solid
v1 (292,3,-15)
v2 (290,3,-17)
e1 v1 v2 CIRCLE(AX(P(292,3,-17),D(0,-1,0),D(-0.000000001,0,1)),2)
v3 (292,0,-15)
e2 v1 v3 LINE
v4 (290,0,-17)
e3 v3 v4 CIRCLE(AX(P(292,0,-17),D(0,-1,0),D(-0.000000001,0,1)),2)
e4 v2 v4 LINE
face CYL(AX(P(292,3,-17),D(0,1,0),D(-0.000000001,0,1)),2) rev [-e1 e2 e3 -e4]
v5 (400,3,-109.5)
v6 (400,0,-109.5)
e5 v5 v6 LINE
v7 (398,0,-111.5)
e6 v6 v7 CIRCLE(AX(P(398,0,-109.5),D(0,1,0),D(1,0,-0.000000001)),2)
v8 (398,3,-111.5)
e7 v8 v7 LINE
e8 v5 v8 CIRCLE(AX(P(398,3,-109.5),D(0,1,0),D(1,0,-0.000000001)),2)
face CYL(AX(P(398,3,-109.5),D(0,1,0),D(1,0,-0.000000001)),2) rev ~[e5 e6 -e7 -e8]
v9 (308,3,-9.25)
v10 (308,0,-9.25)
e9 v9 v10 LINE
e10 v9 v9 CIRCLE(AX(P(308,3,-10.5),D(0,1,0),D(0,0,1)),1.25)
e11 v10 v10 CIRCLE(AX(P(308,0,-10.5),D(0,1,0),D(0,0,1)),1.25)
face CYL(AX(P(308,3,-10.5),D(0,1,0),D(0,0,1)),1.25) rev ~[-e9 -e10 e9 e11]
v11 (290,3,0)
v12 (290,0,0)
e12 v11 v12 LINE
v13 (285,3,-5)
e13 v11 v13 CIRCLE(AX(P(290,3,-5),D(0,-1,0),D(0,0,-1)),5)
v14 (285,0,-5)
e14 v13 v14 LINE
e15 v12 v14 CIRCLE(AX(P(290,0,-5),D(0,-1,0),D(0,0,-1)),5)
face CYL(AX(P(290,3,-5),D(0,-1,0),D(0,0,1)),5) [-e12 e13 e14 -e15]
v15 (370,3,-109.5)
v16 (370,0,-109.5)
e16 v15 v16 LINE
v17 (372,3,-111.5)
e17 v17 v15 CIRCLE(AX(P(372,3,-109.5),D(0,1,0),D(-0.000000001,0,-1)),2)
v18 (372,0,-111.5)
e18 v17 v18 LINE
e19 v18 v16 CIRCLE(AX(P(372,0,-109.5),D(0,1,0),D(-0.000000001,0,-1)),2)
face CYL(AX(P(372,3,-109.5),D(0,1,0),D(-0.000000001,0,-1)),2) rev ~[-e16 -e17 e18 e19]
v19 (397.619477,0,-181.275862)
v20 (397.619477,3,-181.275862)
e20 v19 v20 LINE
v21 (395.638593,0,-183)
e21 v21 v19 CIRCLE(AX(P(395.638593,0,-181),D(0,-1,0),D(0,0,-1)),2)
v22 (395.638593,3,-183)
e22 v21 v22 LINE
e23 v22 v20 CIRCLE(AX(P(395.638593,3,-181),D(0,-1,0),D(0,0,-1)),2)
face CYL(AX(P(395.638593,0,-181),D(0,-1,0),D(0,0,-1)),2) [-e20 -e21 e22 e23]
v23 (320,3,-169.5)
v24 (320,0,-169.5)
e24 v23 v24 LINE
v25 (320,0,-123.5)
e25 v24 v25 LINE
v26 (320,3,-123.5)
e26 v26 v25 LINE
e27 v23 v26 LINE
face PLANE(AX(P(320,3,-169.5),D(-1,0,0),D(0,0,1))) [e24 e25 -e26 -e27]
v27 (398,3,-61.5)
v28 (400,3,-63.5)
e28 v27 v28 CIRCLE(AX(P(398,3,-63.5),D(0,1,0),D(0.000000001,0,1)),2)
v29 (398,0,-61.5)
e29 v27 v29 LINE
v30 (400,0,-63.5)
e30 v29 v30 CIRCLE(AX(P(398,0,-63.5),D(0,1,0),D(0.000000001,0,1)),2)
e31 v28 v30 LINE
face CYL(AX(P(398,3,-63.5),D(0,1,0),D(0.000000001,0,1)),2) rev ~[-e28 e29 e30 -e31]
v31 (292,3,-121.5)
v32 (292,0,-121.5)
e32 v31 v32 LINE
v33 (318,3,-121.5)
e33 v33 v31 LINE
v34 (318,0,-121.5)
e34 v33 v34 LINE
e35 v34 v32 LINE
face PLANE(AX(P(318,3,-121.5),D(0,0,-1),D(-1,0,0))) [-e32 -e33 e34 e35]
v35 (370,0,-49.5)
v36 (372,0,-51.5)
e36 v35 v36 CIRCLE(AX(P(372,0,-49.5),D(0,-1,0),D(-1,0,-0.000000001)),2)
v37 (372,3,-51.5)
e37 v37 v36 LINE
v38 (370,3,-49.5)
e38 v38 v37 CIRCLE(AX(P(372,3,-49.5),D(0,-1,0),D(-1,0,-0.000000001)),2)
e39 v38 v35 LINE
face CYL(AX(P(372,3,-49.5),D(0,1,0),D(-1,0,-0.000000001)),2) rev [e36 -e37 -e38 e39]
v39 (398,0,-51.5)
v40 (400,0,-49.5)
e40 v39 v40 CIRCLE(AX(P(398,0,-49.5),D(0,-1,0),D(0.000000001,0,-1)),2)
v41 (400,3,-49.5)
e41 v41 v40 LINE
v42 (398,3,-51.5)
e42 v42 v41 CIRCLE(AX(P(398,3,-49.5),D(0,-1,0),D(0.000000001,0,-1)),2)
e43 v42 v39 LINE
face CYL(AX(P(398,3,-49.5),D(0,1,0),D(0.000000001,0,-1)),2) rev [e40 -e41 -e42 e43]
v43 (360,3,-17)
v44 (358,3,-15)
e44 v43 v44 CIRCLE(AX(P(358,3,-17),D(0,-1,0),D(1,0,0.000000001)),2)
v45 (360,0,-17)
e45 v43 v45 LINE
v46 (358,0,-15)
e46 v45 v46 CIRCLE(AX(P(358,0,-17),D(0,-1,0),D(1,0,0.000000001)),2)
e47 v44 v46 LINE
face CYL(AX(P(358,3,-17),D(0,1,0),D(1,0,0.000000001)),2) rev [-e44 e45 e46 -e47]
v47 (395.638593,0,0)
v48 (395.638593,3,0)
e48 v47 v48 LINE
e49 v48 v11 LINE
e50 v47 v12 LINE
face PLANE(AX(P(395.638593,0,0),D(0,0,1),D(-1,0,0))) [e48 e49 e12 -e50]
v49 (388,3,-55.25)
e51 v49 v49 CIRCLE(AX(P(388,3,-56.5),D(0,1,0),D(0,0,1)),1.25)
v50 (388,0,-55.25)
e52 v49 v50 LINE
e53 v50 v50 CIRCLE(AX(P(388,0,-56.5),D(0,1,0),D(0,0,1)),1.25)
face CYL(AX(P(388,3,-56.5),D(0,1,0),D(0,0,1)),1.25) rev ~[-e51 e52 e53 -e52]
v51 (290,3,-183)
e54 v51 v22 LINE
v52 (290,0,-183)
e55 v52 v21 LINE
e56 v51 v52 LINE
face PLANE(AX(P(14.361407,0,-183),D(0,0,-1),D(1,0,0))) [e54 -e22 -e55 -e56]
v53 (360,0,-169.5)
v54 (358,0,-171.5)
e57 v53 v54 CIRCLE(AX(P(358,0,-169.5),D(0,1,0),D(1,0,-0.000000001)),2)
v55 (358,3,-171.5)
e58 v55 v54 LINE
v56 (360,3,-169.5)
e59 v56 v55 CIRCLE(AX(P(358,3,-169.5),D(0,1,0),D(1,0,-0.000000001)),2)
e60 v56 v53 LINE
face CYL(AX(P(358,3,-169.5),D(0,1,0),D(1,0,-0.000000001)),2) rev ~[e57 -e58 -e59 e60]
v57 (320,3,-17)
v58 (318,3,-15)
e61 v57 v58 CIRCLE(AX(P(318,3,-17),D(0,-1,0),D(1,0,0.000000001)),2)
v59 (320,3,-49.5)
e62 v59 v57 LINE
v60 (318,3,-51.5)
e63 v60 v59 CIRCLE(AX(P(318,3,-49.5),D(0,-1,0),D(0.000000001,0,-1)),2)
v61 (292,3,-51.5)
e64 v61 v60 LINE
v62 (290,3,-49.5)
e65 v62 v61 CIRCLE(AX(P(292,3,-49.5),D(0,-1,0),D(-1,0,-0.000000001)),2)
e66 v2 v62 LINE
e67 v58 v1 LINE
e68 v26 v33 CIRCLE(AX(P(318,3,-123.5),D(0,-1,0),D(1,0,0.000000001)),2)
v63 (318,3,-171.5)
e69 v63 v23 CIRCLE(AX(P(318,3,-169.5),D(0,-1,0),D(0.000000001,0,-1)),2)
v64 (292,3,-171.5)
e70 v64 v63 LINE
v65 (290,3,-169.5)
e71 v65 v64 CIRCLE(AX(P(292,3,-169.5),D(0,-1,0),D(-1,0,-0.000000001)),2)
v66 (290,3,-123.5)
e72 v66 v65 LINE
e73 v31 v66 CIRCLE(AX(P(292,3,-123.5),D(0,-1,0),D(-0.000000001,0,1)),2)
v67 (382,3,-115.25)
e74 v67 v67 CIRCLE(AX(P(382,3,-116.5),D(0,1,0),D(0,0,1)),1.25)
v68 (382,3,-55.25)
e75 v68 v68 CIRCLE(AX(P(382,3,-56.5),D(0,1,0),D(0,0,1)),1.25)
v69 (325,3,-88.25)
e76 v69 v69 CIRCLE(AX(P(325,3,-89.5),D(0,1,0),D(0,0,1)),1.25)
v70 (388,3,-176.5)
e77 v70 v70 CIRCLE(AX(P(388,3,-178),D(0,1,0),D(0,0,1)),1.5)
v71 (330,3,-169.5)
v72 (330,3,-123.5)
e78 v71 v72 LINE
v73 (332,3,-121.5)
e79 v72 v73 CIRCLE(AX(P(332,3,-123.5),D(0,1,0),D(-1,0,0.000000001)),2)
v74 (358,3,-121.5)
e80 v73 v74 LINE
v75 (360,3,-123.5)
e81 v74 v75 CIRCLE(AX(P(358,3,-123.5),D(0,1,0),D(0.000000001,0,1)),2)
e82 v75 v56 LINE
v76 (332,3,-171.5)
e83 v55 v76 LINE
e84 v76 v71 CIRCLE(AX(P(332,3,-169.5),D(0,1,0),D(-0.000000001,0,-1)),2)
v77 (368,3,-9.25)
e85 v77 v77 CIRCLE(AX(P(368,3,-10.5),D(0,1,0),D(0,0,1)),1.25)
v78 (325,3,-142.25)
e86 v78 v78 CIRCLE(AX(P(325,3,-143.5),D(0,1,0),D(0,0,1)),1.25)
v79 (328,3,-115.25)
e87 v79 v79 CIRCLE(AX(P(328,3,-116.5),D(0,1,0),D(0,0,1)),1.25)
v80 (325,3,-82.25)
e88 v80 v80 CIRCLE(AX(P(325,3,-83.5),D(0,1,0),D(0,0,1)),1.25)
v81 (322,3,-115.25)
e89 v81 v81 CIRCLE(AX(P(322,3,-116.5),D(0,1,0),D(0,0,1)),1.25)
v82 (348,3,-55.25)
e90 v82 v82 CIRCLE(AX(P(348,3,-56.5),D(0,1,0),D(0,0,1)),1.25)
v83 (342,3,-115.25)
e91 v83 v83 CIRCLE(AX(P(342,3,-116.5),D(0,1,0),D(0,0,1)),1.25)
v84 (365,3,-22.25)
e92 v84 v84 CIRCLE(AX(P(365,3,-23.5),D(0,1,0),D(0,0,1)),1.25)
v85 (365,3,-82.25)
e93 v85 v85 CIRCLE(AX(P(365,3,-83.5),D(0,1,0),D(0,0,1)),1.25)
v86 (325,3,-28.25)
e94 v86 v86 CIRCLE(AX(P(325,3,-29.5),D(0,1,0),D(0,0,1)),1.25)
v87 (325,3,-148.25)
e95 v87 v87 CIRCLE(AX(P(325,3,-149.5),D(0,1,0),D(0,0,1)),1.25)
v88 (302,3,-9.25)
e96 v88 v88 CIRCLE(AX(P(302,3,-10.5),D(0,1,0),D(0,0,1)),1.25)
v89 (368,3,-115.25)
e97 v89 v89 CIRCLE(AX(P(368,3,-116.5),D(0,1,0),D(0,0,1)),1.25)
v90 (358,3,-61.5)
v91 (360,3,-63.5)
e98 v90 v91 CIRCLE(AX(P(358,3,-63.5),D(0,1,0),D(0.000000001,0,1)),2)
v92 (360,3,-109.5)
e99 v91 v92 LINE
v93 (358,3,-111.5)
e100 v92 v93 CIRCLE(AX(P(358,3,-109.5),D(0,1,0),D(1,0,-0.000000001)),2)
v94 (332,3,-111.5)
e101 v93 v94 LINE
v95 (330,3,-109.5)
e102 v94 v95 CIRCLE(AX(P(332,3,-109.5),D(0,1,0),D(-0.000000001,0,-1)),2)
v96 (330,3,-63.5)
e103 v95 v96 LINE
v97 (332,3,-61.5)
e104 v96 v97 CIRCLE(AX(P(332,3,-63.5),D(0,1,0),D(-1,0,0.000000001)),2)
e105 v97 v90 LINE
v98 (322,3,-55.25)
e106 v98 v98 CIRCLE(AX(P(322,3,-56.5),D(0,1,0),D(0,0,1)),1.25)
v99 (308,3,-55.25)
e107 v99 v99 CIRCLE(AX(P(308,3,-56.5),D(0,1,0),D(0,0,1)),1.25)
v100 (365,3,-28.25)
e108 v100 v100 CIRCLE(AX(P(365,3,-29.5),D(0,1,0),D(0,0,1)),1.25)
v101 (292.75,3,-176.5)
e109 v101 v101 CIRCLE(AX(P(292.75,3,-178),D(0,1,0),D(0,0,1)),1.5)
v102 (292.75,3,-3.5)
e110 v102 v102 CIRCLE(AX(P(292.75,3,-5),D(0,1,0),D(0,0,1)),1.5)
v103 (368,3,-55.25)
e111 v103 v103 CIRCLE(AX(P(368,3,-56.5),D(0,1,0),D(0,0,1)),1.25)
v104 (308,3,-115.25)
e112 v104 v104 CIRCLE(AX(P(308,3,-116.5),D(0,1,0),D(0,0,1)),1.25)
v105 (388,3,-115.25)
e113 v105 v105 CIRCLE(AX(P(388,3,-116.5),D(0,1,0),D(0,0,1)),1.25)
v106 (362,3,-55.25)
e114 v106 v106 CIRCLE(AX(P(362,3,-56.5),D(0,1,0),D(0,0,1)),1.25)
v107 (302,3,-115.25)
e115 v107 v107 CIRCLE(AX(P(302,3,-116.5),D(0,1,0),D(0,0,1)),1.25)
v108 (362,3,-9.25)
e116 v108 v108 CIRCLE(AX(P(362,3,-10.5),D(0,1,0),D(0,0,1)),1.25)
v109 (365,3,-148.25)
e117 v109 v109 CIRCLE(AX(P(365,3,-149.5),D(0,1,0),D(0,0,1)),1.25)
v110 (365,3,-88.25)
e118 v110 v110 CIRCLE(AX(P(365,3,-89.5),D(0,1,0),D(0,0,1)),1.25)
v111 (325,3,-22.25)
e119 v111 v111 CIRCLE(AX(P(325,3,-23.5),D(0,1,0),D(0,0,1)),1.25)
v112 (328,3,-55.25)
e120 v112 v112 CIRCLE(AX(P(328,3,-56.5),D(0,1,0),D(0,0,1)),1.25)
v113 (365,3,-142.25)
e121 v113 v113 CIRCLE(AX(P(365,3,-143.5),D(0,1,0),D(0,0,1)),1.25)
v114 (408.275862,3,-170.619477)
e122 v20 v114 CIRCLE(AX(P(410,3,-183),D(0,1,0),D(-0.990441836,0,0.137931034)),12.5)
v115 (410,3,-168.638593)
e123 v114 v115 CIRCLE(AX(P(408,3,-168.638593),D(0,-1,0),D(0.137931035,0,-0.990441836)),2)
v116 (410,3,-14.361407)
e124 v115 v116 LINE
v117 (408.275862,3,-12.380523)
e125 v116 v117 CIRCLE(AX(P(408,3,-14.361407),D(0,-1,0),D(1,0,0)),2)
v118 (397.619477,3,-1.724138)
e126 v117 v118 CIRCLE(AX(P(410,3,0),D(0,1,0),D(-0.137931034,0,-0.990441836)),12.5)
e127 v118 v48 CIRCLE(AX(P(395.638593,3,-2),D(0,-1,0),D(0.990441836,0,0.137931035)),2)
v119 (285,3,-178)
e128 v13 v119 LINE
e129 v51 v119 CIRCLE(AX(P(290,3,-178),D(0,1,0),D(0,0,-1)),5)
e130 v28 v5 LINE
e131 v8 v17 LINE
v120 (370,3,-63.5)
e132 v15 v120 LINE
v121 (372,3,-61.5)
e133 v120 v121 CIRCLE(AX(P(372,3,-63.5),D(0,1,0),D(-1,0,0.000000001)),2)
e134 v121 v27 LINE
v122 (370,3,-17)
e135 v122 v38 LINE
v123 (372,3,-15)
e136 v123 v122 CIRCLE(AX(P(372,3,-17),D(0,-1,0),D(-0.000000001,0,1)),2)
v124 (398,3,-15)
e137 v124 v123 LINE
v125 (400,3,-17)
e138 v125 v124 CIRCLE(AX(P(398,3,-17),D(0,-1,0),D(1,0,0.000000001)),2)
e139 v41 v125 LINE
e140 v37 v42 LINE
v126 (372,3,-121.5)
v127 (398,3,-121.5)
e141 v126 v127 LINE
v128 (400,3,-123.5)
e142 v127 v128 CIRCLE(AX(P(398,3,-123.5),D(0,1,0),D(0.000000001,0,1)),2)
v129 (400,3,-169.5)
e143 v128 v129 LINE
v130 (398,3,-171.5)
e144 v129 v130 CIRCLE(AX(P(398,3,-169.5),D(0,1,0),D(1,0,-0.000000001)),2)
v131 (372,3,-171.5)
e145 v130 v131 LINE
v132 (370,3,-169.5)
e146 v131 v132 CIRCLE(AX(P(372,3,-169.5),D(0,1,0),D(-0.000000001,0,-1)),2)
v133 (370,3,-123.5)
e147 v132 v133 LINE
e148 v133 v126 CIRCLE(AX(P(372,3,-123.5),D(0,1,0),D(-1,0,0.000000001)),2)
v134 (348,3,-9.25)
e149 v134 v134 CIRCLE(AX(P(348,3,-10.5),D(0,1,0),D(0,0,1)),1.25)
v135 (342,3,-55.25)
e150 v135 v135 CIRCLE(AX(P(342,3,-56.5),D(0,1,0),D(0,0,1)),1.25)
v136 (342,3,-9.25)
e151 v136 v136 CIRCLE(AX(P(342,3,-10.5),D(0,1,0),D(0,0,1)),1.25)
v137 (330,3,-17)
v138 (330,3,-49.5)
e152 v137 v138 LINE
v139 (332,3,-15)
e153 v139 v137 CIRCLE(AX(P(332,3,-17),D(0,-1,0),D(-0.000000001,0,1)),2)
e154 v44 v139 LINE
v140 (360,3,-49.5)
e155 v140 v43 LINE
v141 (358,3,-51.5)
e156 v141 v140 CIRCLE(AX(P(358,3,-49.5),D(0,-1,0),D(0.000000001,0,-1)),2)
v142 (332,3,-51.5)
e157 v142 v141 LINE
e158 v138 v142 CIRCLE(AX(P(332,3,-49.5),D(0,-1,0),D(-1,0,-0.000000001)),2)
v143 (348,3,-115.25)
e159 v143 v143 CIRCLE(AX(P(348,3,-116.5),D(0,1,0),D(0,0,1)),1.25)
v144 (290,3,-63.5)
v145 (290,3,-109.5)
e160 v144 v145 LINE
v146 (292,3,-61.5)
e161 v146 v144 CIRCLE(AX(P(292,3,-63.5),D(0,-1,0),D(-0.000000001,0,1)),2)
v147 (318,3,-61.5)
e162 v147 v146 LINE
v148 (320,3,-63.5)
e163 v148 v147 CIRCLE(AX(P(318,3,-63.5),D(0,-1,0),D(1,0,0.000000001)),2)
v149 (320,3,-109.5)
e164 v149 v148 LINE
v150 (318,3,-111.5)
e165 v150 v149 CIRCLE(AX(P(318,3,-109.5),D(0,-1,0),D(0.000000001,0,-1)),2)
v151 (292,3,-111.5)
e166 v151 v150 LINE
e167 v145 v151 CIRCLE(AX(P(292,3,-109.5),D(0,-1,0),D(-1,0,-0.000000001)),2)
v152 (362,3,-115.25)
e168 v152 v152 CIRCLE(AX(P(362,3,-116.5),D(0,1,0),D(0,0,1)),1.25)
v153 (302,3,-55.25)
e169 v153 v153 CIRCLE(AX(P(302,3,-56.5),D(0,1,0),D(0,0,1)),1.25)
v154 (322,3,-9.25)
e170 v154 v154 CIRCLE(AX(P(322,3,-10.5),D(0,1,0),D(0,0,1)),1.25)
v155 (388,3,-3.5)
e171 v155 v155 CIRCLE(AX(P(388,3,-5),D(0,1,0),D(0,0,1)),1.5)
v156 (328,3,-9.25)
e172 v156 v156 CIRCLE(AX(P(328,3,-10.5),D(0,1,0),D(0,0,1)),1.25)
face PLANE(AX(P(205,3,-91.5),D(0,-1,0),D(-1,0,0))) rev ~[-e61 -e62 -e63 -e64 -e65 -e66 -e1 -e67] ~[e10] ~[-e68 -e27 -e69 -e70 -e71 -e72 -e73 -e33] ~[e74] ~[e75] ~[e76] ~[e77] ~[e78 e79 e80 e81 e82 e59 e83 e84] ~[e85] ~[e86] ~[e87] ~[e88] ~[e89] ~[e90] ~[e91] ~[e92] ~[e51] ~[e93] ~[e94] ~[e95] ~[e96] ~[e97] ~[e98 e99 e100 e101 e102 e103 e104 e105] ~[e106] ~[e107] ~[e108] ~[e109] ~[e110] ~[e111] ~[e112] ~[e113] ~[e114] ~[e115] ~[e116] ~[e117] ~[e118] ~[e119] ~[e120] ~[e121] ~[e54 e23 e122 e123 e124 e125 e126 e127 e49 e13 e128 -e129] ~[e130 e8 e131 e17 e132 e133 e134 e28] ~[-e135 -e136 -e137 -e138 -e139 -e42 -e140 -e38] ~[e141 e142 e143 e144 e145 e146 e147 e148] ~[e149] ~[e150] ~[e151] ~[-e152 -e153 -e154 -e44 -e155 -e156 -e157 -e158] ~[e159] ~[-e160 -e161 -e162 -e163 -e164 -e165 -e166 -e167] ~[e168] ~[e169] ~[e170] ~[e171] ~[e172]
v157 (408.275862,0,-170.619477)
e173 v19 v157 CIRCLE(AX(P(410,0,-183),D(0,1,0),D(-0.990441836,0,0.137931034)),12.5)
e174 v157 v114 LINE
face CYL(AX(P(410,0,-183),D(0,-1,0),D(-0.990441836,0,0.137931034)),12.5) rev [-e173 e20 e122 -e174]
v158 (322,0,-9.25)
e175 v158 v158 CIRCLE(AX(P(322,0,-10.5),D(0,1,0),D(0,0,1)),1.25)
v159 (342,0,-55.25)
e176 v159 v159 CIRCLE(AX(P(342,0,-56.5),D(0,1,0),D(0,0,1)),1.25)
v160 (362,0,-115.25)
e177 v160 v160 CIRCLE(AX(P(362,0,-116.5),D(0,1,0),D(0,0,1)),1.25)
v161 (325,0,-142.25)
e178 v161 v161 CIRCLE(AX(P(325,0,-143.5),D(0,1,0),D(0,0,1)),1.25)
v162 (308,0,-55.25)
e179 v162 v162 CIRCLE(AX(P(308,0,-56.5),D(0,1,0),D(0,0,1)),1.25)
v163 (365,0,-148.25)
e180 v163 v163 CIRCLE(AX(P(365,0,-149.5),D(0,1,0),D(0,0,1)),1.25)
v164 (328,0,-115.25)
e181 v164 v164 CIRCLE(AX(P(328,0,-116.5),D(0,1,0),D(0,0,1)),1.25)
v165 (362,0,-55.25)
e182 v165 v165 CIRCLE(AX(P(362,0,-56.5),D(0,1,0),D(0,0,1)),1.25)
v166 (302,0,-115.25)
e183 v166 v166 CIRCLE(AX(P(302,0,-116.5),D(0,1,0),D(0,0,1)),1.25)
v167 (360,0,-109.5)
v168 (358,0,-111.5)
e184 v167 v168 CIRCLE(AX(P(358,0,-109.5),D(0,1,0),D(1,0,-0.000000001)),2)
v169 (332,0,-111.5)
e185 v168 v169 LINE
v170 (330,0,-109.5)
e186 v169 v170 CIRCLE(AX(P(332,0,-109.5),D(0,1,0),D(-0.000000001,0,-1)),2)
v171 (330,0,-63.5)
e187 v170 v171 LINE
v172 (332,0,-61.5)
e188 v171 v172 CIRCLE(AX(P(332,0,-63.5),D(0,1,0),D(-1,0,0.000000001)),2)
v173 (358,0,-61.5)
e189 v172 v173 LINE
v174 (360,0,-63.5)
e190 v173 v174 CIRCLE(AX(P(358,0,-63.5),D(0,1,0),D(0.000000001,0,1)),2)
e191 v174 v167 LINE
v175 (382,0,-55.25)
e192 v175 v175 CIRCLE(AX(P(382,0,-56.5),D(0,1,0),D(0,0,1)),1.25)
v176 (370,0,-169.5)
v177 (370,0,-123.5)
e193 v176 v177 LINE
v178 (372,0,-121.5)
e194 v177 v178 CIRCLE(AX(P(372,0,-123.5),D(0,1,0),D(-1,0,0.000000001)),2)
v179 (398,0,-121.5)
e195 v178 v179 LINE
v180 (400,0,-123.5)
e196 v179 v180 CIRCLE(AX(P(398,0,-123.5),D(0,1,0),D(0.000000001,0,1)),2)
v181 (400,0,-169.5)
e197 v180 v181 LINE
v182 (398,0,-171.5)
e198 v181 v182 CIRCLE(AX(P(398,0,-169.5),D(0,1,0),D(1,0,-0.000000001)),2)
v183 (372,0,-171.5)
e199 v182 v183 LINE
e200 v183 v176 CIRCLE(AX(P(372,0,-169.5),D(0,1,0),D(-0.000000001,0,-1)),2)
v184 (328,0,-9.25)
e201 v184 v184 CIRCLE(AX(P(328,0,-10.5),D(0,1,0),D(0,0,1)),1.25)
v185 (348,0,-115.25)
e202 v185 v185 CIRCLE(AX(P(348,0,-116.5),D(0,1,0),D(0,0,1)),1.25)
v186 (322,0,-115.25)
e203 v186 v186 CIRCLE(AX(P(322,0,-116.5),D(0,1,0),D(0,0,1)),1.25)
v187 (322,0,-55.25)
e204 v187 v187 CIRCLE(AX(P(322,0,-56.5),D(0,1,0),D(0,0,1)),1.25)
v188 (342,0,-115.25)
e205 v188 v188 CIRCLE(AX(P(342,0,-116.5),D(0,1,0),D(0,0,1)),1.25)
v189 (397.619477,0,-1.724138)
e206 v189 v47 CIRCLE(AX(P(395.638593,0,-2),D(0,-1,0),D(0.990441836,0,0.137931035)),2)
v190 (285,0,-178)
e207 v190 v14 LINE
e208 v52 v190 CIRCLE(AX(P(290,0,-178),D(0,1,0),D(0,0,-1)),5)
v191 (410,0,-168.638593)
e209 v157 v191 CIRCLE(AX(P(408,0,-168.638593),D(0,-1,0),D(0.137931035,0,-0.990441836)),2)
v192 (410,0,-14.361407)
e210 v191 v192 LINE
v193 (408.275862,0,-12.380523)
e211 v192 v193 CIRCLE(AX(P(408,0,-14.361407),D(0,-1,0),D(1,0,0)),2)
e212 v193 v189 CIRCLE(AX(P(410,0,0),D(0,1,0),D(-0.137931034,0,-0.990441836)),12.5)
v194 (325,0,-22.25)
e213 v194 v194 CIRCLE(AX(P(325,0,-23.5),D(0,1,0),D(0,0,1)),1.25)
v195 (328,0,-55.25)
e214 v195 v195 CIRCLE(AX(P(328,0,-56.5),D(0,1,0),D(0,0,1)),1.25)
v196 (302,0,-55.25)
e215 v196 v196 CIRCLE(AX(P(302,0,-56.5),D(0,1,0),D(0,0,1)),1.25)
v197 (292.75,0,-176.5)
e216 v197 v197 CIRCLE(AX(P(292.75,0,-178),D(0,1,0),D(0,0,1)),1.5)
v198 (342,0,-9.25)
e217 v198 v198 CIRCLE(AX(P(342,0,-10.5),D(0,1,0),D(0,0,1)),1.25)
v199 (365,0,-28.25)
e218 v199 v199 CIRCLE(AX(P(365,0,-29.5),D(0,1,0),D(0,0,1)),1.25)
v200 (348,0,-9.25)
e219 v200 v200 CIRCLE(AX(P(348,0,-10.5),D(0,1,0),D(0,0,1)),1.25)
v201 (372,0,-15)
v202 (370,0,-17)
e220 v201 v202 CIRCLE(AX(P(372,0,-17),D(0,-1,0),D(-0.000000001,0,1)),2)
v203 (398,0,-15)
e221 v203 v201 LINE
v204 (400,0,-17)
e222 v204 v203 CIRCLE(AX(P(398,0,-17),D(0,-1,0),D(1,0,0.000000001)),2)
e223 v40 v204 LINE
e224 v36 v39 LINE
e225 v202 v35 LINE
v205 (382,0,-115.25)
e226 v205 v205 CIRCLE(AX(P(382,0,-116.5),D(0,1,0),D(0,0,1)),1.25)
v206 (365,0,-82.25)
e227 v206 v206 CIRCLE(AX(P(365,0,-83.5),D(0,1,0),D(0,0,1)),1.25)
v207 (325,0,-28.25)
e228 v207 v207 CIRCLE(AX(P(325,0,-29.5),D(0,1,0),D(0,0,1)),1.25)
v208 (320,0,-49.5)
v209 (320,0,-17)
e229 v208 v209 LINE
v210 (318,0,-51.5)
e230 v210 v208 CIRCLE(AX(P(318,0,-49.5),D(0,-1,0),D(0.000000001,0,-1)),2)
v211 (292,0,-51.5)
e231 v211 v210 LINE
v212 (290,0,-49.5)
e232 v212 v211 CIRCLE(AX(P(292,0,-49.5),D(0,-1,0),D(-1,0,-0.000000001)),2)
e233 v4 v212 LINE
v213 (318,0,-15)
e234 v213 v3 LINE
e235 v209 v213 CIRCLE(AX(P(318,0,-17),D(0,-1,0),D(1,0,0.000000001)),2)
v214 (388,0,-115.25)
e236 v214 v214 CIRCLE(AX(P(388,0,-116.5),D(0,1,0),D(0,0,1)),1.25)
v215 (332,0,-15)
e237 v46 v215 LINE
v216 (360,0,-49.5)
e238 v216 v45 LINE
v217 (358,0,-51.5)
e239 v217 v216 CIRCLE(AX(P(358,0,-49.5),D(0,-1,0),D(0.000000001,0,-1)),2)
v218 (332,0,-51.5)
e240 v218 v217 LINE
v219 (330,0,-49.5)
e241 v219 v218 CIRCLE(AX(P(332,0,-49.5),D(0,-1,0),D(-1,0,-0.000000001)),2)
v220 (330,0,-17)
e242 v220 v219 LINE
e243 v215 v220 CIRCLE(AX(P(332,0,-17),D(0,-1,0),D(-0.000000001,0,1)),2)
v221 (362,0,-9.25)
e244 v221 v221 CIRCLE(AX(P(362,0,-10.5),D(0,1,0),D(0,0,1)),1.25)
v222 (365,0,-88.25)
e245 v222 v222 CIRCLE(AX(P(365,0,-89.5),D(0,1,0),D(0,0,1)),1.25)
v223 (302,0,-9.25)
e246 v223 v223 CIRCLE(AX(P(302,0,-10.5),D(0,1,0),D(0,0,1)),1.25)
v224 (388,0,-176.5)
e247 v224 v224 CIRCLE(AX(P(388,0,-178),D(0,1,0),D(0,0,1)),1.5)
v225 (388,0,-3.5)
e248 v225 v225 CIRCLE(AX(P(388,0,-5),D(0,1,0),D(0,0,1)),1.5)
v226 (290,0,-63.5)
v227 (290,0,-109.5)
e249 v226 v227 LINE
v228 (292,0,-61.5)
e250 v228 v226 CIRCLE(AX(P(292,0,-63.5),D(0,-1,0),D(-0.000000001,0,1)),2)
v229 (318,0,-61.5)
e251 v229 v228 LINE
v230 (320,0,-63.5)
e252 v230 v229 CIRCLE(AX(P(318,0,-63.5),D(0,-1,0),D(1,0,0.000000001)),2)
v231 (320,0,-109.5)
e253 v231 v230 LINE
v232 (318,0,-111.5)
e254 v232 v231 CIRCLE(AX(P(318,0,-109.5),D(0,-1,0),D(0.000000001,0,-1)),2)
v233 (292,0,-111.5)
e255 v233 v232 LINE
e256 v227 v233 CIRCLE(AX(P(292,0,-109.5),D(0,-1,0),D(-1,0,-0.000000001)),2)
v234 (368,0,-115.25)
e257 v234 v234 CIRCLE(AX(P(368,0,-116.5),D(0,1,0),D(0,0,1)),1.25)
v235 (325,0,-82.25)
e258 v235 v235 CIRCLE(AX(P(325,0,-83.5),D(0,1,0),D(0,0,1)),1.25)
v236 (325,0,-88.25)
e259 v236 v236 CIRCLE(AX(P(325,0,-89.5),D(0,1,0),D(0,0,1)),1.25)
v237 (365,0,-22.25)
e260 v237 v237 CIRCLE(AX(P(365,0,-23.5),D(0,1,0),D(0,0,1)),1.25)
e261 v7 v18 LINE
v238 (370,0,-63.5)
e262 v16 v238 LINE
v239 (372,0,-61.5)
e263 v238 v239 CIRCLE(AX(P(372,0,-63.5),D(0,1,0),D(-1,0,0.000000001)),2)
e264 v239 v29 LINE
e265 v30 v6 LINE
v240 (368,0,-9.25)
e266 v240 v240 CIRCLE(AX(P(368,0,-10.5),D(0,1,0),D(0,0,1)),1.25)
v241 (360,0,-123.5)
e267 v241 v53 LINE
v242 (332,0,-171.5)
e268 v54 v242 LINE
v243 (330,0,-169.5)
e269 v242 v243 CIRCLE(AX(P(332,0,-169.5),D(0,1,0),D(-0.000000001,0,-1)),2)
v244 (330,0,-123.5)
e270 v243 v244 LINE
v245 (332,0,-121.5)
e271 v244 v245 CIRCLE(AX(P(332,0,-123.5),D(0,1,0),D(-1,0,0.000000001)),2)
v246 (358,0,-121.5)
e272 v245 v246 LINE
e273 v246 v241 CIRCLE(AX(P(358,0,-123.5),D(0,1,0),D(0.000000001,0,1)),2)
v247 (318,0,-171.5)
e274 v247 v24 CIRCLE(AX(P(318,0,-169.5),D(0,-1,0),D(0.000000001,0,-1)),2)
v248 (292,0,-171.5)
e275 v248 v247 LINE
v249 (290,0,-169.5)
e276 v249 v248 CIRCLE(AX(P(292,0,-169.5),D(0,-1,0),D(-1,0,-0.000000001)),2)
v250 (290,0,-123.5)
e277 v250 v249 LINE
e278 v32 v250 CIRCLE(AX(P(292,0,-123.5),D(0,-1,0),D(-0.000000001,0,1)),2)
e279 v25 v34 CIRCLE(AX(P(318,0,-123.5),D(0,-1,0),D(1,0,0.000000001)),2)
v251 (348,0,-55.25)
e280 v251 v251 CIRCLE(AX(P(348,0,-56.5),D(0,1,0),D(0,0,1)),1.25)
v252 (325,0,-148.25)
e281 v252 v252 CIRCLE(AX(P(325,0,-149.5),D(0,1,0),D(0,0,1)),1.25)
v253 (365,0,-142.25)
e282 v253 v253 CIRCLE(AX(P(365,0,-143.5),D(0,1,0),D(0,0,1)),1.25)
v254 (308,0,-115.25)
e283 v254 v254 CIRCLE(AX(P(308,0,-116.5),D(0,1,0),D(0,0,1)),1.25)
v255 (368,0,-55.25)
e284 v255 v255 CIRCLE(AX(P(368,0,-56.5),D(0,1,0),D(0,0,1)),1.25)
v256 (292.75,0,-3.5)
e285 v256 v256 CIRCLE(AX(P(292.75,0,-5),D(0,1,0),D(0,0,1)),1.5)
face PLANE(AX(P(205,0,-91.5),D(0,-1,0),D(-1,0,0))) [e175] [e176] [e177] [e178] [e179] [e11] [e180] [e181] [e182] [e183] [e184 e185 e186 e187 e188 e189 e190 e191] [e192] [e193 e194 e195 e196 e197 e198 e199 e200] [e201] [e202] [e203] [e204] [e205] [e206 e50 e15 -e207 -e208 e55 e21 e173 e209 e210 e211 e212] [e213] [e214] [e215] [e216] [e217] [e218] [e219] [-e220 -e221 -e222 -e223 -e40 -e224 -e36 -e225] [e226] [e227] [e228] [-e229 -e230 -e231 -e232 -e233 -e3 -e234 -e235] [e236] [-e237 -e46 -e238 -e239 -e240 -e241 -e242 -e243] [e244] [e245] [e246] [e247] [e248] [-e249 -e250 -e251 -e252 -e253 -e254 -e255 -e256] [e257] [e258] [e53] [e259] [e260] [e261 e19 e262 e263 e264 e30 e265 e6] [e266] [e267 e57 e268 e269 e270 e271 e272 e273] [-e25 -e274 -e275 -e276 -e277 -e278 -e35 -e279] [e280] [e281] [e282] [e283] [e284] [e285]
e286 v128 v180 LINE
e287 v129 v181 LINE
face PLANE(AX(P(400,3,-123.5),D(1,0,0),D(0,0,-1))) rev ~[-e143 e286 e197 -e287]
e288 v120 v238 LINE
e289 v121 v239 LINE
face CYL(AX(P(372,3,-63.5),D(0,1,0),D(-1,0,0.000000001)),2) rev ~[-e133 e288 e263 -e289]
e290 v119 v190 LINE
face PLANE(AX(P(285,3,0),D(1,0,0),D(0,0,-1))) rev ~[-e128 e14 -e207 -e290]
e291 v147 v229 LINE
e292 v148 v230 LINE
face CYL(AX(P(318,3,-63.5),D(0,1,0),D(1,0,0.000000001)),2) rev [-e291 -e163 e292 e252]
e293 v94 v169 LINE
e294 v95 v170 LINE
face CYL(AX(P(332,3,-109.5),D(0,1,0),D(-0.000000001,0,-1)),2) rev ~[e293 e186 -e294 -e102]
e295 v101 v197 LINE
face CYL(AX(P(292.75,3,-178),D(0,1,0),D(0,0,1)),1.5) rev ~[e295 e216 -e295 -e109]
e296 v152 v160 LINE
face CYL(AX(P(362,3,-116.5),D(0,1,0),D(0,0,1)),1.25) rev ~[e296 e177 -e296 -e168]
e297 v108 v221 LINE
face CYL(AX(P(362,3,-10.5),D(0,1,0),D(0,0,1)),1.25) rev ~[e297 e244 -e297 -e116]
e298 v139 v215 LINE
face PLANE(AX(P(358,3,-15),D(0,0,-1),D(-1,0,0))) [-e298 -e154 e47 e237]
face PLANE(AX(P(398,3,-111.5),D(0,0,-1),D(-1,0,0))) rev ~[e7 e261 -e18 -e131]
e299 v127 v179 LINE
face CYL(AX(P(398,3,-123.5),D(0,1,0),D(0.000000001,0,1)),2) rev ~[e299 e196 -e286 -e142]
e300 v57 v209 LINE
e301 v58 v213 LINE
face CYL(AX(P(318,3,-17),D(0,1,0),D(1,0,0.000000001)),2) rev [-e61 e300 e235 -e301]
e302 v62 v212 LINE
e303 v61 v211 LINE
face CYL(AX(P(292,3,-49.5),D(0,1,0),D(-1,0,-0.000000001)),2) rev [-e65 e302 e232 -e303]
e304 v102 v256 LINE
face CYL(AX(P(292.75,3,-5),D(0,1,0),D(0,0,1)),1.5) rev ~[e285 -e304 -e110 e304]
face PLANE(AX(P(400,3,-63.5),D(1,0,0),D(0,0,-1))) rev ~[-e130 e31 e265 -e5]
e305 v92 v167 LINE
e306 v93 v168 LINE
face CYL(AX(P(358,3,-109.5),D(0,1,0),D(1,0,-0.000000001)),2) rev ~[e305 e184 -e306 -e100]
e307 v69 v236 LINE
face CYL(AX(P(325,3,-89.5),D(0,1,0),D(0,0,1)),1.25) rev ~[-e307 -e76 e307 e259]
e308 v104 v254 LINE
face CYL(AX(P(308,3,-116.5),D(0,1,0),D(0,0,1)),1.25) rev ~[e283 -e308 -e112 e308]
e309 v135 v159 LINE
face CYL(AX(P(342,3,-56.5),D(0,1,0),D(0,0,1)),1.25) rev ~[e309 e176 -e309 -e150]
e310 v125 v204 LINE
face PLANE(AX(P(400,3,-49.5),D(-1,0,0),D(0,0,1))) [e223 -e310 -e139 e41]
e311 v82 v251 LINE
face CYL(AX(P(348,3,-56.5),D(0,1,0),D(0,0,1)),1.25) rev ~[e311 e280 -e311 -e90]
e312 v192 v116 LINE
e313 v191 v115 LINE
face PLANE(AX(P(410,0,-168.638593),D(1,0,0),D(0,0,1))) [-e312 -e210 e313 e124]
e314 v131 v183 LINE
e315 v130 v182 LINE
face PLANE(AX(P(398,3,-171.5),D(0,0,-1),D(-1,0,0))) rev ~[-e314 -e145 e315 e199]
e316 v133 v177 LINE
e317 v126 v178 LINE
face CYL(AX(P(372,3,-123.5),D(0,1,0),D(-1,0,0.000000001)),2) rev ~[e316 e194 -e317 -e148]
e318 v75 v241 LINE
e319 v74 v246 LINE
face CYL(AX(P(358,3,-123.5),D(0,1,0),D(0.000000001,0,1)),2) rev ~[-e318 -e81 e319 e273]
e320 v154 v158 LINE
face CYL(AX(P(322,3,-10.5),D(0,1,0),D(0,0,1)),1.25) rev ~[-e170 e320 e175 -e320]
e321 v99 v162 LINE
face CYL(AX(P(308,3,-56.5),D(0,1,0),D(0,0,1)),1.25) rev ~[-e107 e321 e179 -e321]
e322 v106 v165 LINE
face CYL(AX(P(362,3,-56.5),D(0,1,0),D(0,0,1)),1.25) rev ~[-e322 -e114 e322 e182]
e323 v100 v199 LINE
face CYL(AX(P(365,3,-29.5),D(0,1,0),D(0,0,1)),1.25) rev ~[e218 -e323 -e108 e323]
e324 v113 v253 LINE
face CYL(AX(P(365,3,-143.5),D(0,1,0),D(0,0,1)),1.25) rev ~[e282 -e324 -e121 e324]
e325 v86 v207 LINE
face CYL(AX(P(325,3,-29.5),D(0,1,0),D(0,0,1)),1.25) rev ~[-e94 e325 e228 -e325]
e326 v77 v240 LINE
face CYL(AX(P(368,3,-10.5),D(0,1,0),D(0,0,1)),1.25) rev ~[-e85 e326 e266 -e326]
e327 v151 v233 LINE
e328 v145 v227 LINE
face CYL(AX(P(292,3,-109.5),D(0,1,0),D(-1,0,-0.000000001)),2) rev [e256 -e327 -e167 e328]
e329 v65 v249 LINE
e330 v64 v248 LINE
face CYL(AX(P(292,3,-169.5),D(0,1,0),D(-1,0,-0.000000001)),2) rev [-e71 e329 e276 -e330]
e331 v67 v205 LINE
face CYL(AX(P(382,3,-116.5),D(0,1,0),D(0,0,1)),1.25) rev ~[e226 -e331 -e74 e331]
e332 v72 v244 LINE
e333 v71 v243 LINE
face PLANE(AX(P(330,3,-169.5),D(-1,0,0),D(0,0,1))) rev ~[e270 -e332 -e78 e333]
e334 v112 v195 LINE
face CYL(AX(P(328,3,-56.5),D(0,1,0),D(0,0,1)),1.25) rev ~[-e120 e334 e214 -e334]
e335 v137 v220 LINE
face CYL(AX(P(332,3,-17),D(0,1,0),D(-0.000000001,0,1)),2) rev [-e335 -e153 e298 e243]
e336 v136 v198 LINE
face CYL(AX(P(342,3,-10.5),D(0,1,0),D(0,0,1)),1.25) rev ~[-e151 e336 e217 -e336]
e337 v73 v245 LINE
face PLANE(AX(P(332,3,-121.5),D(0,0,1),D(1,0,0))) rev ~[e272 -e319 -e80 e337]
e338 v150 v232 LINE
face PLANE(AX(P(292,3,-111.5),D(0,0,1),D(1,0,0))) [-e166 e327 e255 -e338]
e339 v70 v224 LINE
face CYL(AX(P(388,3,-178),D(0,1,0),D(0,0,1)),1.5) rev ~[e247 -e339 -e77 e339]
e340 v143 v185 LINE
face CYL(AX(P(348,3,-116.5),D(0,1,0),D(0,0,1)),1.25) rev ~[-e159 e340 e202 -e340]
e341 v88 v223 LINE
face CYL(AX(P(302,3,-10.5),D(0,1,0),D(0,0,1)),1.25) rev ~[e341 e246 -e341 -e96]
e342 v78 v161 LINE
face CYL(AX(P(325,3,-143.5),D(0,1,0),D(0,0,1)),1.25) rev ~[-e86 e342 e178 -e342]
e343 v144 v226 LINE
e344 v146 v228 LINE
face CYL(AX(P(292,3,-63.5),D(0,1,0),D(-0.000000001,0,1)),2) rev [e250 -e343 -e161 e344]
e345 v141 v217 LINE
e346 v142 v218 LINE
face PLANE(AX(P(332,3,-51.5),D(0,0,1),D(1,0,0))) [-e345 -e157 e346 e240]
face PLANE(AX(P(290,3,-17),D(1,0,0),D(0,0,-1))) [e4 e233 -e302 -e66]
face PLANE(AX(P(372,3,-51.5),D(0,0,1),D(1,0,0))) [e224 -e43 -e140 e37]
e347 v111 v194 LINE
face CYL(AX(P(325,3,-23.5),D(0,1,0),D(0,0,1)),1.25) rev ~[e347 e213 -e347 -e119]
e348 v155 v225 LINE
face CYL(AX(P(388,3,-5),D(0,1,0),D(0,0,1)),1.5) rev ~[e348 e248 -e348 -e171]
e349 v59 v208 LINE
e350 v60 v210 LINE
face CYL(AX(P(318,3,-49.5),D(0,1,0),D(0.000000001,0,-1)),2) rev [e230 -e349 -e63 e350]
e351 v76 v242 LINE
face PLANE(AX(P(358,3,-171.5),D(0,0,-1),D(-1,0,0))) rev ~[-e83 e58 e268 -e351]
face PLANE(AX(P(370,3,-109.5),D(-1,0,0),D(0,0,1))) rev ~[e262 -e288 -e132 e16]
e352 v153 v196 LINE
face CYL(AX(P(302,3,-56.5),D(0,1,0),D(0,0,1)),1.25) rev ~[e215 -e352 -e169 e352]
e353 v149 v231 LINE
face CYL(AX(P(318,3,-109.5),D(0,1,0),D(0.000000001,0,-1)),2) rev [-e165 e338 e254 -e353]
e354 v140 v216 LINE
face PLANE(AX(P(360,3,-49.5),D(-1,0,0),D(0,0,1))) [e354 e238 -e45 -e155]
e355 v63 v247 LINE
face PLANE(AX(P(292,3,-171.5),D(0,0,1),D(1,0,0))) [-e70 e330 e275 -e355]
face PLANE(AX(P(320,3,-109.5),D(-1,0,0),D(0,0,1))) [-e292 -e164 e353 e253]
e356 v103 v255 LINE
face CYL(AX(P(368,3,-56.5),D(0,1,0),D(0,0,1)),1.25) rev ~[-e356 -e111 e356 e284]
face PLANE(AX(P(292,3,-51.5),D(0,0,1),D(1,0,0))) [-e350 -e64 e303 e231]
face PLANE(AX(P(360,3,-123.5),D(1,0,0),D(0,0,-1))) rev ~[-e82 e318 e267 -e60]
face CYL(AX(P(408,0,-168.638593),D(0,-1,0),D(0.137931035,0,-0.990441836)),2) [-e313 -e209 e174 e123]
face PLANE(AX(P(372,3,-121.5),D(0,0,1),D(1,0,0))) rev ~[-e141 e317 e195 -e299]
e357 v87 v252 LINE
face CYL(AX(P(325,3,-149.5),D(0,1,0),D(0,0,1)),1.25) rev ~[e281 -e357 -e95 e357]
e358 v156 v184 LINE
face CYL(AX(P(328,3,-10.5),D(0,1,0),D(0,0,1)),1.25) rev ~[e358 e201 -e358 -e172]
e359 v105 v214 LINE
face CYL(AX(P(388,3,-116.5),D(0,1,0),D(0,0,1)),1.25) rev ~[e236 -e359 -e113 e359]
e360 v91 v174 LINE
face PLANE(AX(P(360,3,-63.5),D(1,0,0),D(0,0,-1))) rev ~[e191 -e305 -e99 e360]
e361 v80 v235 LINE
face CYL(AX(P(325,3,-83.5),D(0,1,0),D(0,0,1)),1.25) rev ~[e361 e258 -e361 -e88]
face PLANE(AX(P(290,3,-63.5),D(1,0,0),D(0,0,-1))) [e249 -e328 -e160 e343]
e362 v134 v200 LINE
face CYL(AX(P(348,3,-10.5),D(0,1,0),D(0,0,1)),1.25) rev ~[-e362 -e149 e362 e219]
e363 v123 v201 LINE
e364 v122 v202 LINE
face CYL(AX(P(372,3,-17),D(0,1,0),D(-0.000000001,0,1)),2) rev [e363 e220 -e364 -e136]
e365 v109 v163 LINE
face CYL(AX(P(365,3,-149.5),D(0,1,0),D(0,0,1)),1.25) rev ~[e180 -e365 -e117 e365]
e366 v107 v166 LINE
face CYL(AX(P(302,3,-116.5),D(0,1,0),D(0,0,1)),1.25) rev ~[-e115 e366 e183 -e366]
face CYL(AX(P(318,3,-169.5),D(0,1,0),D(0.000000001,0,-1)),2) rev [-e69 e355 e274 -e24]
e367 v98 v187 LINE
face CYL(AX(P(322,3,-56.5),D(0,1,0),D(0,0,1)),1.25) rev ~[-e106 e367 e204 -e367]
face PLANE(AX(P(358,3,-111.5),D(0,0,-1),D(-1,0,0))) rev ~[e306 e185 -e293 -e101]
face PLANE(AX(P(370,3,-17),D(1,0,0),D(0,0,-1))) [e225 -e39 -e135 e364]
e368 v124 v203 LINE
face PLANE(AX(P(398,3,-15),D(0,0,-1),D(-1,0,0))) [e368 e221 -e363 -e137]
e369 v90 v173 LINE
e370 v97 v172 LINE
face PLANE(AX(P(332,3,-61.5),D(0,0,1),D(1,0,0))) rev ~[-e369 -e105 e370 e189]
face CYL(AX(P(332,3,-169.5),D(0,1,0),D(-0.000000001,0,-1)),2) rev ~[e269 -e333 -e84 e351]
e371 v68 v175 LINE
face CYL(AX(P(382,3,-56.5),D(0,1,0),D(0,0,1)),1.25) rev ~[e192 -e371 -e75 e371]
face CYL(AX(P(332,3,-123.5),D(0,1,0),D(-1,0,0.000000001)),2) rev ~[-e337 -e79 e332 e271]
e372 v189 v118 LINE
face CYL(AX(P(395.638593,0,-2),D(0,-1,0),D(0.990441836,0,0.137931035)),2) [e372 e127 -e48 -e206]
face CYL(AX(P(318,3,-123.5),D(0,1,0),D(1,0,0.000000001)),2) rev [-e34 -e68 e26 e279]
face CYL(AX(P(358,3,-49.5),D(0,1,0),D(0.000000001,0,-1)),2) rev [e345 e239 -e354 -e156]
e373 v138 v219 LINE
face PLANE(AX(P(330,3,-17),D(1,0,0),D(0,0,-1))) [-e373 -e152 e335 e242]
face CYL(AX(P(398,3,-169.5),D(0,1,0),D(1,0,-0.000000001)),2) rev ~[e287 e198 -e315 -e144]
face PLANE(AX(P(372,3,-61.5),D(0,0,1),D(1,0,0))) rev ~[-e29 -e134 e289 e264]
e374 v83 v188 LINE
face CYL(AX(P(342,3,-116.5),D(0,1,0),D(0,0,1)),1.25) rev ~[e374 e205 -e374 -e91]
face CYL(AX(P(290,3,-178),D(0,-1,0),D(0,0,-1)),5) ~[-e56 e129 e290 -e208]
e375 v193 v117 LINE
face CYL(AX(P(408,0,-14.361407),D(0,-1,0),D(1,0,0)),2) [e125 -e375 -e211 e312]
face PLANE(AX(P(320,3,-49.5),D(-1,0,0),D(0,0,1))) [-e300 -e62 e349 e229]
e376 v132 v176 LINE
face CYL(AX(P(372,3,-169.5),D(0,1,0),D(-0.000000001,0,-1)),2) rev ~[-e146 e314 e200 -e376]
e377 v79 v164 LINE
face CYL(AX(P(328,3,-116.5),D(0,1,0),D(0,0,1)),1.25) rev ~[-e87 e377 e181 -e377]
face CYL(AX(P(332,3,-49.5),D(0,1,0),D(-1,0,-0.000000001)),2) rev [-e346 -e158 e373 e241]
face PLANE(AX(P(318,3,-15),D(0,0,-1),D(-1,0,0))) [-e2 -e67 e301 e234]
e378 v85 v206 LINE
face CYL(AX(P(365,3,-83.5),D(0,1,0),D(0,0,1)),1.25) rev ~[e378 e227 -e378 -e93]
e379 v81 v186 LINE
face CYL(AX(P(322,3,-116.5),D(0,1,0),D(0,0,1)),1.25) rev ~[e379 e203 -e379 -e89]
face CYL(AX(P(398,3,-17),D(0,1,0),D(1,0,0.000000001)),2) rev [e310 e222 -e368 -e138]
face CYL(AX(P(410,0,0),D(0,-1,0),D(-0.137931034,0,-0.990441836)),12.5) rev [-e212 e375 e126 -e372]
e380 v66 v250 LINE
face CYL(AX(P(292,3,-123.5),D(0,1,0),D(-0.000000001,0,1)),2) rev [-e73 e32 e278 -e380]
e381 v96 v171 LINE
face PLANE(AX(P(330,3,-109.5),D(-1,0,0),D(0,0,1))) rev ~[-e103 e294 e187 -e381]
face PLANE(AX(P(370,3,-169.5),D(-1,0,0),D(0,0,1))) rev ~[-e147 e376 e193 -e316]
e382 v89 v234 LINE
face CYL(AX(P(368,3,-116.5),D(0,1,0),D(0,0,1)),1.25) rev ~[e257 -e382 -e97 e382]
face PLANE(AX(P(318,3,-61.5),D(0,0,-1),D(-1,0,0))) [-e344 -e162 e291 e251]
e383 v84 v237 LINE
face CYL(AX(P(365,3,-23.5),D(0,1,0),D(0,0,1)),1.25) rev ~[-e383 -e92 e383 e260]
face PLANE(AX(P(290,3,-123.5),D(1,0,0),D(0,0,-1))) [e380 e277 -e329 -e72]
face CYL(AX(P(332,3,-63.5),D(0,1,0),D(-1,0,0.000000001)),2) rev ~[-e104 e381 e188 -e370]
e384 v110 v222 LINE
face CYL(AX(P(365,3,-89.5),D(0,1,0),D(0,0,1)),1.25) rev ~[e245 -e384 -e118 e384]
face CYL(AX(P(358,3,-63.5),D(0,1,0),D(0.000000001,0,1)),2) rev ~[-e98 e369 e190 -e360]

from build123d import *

# Parameters (mm, degrees)
BOSS_EXTRUDE1_DEPTH = 3
CUT_EXTRUDE6_REACH  = 450.997
SKETCH10_R          = 1.5
SKETCH11_W          = 285
SKETCH11_H          = 183
CUT_EXTRUDE7_DEPTH  = 10
FILLET1_R           = 5
SKETCH12_R          = 1.25
CUT_EXTRUDE8_DEPTH  = 3


with BuildPart() as part:
    # Sketch1 → Boss-Extrude1 (new body)
    with BuildSketch(Plane(origin=(0, 0, 0), x_dir=(1, 0, 0), z_dir=(0, 1, 0))):
        with BuildLine():
            Line((0, 14.361406616), (0, 168.638593384))
            ThreePointArc((0, 168.638593384), (0.491403941, 169.951657712), (1.724137931, 170.619477055))
            ThreePointArc((1.724137931, 170.619477055), (8.838834765, 174.161165235), (12.380522945, 181.275862069))
            ThreePointArc((12.380522945, 181.275862069), (13.048342288, 182.508596059), (14.361406616, 183))
            Line((14.361406616, 183), (395.638593384, 183))
            ThreePointArc((395.638593384, 183), (396.951657712, 182.508596059), (397.619477055, 181.275862069))
            ThreePointArc((397.619477055, 181.275862069), (401.161165235, 174.161165235), (408.275862069, 170.619477055))
            ThreePointArc((408.275862069, 170.619477055), (409.508596059, 169.951657712), (410, 168.638593384))
            Line((410, 168.638593384), (410, 14.361406616))
            ThreePointArc((410, 14.361406616), (409.508596059, 13.048342288), (408.275862069, 12.380522945))
            ThreePointArc((408.275862069, 12.380522945), (401.161165235, 8.838834765), (397.619477055, 1.724137931))
            ThreePointArc((397.619477055, 1.724137931), (396.951657712, 0.491403941), (395.638593384, 0))
            Line((395.638593384, 0), (14.361406616, 0))
            ThreePointArc((14.361406616, 0), (13.048342288, 0.491403941), (12.380522945, 1.724137931))
            ThreePointArc((12.380522945, 1.724137931), (8.838834765, 8.838834765), (1.724137931, 12.380522945))
            ThreePointArc((1.724137931, 12.380522945), (0.491403941, 13.048342288), (0, 14.361406616))
        make_face()
    extrude(amount=BOSS_EXTRUDE1_DEPTH)

    # Sketch10 → Cut-Extrude6 (cut, up to next)
    with BuildSketch(Plane(origin=(0, 3, 0), x_dir=(1, 0, 0), z_dir=(0, 1, 0)), mode=Mode.PRIVATE) as cut_extrude6_sk1:
        with Locations(Location((17.5, 178, 0), (0, 0, 270))):
            Circle(SKETCH10_R)
    cut_extrude6_tool1 = extrude(cut_extrude6_sk1.sketch, amount=-CUT_EXTRUDE6_REACH, mode=Mode.PRIVATE) & part.part
    # Sketch10 → Cut-Extrude6 (cut, up to next)
    with BuildSketch(Plane(origin=(0, 3, 0), x_dir=(1, 0, 0), z_dir=(0, 1, 0)), mode=Mode.PRIVATE) as cut_extrude6_sk2:
        with Locations(Location((388, 178, 0), (0, 0, 270))):
            Circle(SKETCH10_R)
    cut_extrude6_tool2 = extrude(cut_extrude6_sk2.sketch, amount=-CUT_EXTRUDE6_REACH, mode=Mode.PRIVATE) & part.part
    # Sketch10 → Cut-Extrude6 (cut, up to next)
    with BuildSketch(Plane(origin=(0, 3, 0), x_dir=(1, 0, 0), z_dir=(0, 1, 0)), mode=Mode.PRIVATE) as cut_extrude6_sk3:
        with Locations(Location((388, 5, 0), (0, 0, 270))):
            Circle(SKETCH10_R)
    cut_extrude6_tool3 = extrude(cut_extrude6_sk3.sketch, amount=-CUT_EXTRUDE6_REACH, mode=Mode.PRIVATE) & part.part
    # Sketch10 → Cut-Extrude6 (cut, up to next)
    with BuildSketch(Plane(origin=(0, 3, 0), x_dir=(1, 0, 0), z_dir=(0, 1, 0)), mode=Mode.PRIVATE) as cut_extrude6_sk4:
        with Locations(Location((17.5, 5, 0), (0, 0, 270))):
            Circle(SKETCH10_R)
    cut_extrude6_tool4 = extrude(cut_extrude6_sk4.sketch, amount=-CUT_EXTRUDE6_REACH, mode=Mode.PRIVATE) & part.part
    # Sketch10 → Cut-Extrude6 (cut, up to next)
    with BuildSketch(Plane(origin=(0, 3, 0), x_dir=(1, 0, 0), z_dir=(0, 1, 0)), mode=Mode.PRIVATE) as cut_extrude6_sk5:
        with Locations(Location((202.75, 178, 0), (0, 0, 270))):
            Circle(SKETCH10_R)
    cut_extrude6_tool5 = extrude(cut_extrude6_sk5.sketch, amount=-CUT_EXTRUDE6_REACH, mode=Mode.PRIVATE) & part.part
    # Sketch10 → Cut-Extrude6 (cut, up to next)
    with BuildSketch(Plane(origin=(0, 3, 0), x_dir=(1, 0, 0), z_dir=(0, 1, 0)), mode=Mode.PRIVATE) as cut_extrude6_sk6:
        with Locations(Location((202.75, 5, 0), (0, 0, 270))):
            Circle(SKETCH10_R)
    cut_extrude6_tool6 = extrude(cut_extrude6_sk6.sketch, amount=-CUT_EXTRUDE6_REACH, mode=Mode.PRIVATE) & part.part
    # Sketch10 → Cut-Extrude6 (cut, up to next)
    with BuildSketch(Plane(origin=(0, 3, 0), x_dir=(1, 0, 0), z_dir=(0, 1, 0)), mode=Mode.PRIVATE) as cut_extrude6_sk7:
        with Locations(Location((292.75, 178, 0), (0, 0, 270))):
            Circle(SKETCH10_R)
    cut_extrude6_tool7 = extrude(cut_extrude6_sk7.sketch, amount=-CUT_EXTRUDE6_REACH, mode=Mode.PRIVATE) & part.part
    # Sketch10 → Cut-Extrude6 (cut, up to next)
    with BuildSketch(Plane(origin=(0, 3, 0), x_dir=(1, 0, 0), z_dir=(0, 1, 0)), mode=Mode.PRIVATE) as cut_extrude6_sk8:
        with Locations(Location((292.75, 5, 0), (0, 0, 270))):
            Circle(SKETCH10_R)
    cut_extrude6_tool8 = extrude(cut_extrude6_sk8.sketch, amount=-CUT_EXTRUDE6_REACH, mode=Mode.PRIVATE) & part.part
    add(cut_extrude6_tool1.solids().sort_by_distance((17.5, 3, -178))[0], mode=Mode.SUBTRACT)
    add(cut_extrude6_tool2.solids().sort_by_distance((388, 3, -178))[0], mode=Mode.SUBTRACT)
    add(cut_extrude6_tool3.solids().sort_by_distance((388, 3, -5))[0], mode=Mode.SUBTRACT)
    add(cut_extrude6_tool4.solids().sort_by_distance((17.5, 3, -5))[0], mode=Mode.SUBTRACT)
    add(cut_extrude6_tool5.solids().sort_by_distance((202.75, 3, -178))[0], mode=Mode.SUBTRACT)
    add(cut_extrude6_tool6.solids().sort_by_distance((202.75, 3, -5))[0], mode=Mode.SUBTRACT)
    add(cut_extrude6_tool7.solids().sort_by_distance((292.75, 3, -178))[0], mode=Mode.SUBTRACT)
    add(cut_extrude6_tool8.solids().sort_by_distance((292.75, 3, -5))[0], mode=Mode.SUBTRACT)

    # Sketch11 → Cut-Extrude7 (cut)
    with BuildSketch(Plane(origin=(0, 3, 0), x_dir=(1, 0, 0), z_dir=(0, 1, 0))):
        with Locations((142.5, 91.5)):
            Rectangle(SKETCH11_W, SKETCH11_H)
    extrude(amount=-CUT_EXTRUDE7_DEPTH, mode=Mode.SUBTRACT)

    # Fillet1
    fillet1_edges = [part.edges().sort_by_distance(p)[0] for p in [
        (285, 1.5, -183),
        (285, 1.5, 0),
    ]]
    fillet(fillet1_edges, radius=FILLET1_R)

    # Sketch12 → Cut-Extrude8 (cut)
    with BuildSketch(Plane(origin=(0, 3, 0), x_dir=(1, 0, 0), z_dir=(0, 1, 0))):
        with Locations(Location((325, 149.5, 0), (0, 0, 270))):
            Circle(SKETCH12_R)
        with Locations(Location((325, 143.5, 0), (0, 0, 270))):
            Circle(SKETCH12_R)
        with Locations(Location((365, 149.5, 0), (0, 0, 270))):
            Circle(SKETCH12_R)
        with Locations(Location((365, 143.5, 0), (0, 0, 270))):
            Circle(SKETCH12_R)
        with Locations(Location((325, 89.5, 0), (0, 0, 270))):
            Circle(SKETCH12_R)
        with Locations(Location((325, 83.5, 0), (0, 0, 270))):
            Circle(SKETCH12_R)
        with Locations(Location((365, 89.5, 0), (0, 0, 270))):
            Circle(SKETCH12_R)
        with Locations(Location((365, 83.5, 0), (0, 0, 270))):
            Circle(SKETCH12_R)
        with Locations(Location((325, 29.5, 0), (0, 0, 270))):
            Circle(SKETCH12_R)
        with Locations(Location((325, 23.5, 0), (0, 0, 270))):
            Circle(SKETCH12_R)
        with Locations(Location((365, 29.5, 0), (0, 0, 270))):
            Circle(SKETCH12_R)
        with Locations(Location((365, 23.5, 0), (0, 0, 270))):
            Circle(SKETCH12_R)
        with Locations(Location((302, 116.5, 0), (0, 0, 270))):
            Circle(SKETCH12_R)
        with Locations(Location((308, 116.5, 0), (0, 0, 270))):
            Circle(SKETCH12_R)
        with Locations(Location((322, 116.5, 0), (0, 0, 270))):
            Circle(SKETCH12_R)
        with Locations(Location((328, 116.5, 0), (0, 0, 270))):
            Circle(SKETCH12_R)
        with Locations(Location((342, 116.5, 0), (0, 0, 270))):
            Circle(SKETCH12_R)
        with Locations(Location((348, 116.5, 0), (0, 0, 270))):
            Circle(SKETCH12_R)
        with Locations(Location((362, 116.5, 0), (0, 0, 270))):
            Circle(SKETCH12_R)
        with Locations(Location((368, 116.5, 0), (0, 0, 270))):
            Circle(SKETCH12_R)
        with Locations(Location((382, 116.5, 0), (0, 0, 270))):
            Circle(SKETCH12_R)
        with Locations(Location((388, 116.5, 0), (0, 0, 270))):
            Circle(SKETCH12_R)
        with Locations(Location((302, 56.5, 0), (0, 0, 270))):
            Circle(SKETCH12_R)
        with Locations(Location((308, 56.5, 0), (0, 0, 270))):
            Circle(SKETCH12_R)
        with Locations(Location((322, 56.5, 0), (0, 0, 270))):
            Circle(SKETCH12_R)
        with Locations(Location((328, 56.5, 0), (0, 0, 270))):
            Circle(SKETCH12_R)
        with Locations(Location((342, 56.5, 0), (0, 0, 270))):
            Circle(SKETCH12_R)
        with Locations(Location((348, 56.5, 0), (0, 0, 270))):
            Circle(SKETCH12_R)
        with Locations(Location((362, 56.5, 0), (0, 0, 270))):
            Circle(SKETCH12_R)
        with Locations(Location((368, 56.5, 0), (0, 0, 270))):
            Circle(SKETCH12_R)
        with Locations(Location((382, 56.5, 0), (0, 0, 270))):
            Circle(SKETCH12_R)
        with Locations(Location((388, 56.5, 0), (0, 0, 270))):
            Circle(SKETCH12_R)
        with Locations(Location((302, 10.5, 0), (0, 0, 270))):
            Circle(SKETCH12_R)
        with Locations(Location((308, 10.5, 0), (0, 0, 270))):
            Circle(SKETCH12_R)
        with Locations(Location((322, 10.5, 0), (0, 0, 270))):
            Circle(SKETCH12_R)
        with Locations(Location((328, 10.5, 0), (0, 0, 270))):
            Circle(SKETCH12_R)
        with Locations(Location((342, 10.5, 0), (0, 0, 270))):
            Circle(SKETCH12_R)
        with Locations(Location((348, 10.5, 0), (0, 0, 270))):
            Circle(SKETCH12_R)
        with Locations(Location((362, 10.5, 0), (0, 0, 270))):
            Circle(SKETCH12_R)
        with Locations(Location((368, 10.5, 0), (0, 0, 270))):
            Circle(SKETCH12_R)
        with BuildLine():
            Line((332, 121.5), (358, 121.5))
            ThreePointArc((358, 121.5), (359.414213562, 122.085786438), (360, 123.5))
            Line((360, 123.5), (360, 169.5))
            ThreePointArc((360, 169.5), (359.414213562, 170.914213562), (358, 171.5))
            Line((358, 171.5), (332, 171.5))
            ThreePointArc((332, 171.5), (330.585786438, 170.914213562), (330, 169.5))
            Line((330, 169.5), (330, 123.5))
            ThreePointArc((330, 123.5), (330.585786438, 122.085786438), (332, 121.5))
        make_face()
        with BuildLine():
            Line((292, 171.5), (318, 171.5))
            ThreePointArc((318, 171.5), (319.414213562, 170.914213562), (320, 169.5))
            Line((320, 169.5), (320, 123.5))
            ThreePointArc((320, 123.5), (319.414213562, 122.085786438), (318, 121.5))
            Line((318, 121.5), (292, 121.5))
            ThreePointArc((292, 121.5), (290.585786438, 122.085786438), (290, 123.5))
            Line((290, 123.5), (290, 169.5))
            ThreePointArc((290, 169.5), (290.585786438, 170.914213562), (292, 171.5))
        make_face()
        with BuildLine():
            Line((372, 121.5), (398, 121.5))
            ThreePointArc((398, 121.5), (399.414213562, 122.085786438), (400, 123.5))
            Line((400, 123.5), (400, 169.5))
            ThreePointArc((400, 169.5), (399.414213562, 170.914213562), (398, 171.5))
            Line((398, 171.5), (372, 171.5))
            ThreePointArc((372, 171.5), (370.585786438, 170.914213562), (370, 169.5))
            Line((370, 169.5), (370, 123.5))
            ThreePointArc((370, 123.5), (370.585786438, 122.085786438), (372, 121.5))
        make_face()
        with BuildLine():
            Line((332, 61.5), (358, 61.5))
            ThreePointArc((358, 61.5), (359.414213562, 62.085786438), (360, 63.5))
            Line((360, 63.5), (360, 109.5))
            ThreePointArc((360, 109.5), (359.414213562, 110.914213562), (358, 111.5))
            Line((358, 111.5), (332, 111.5))
            ThreePointArc((332, 111.5), (330.585786438, 110.914213562), (330, 109.5))
            Line((330, 109.5), (330, 63.5))
            ThreePointArc((330, 63.5), (330.585786438, 62.085786438), (332, 61.5))
        make_face()
        with BuildLine():
            Line((292, 111.5), (318, 111.5))
            ThreePointArc((318, 111.5), (319.414213562, 110.914213562), (320, 109.5))
            Line((320, 109.5), (320, 63.5))
            ThreePointArc((320, 63.5), (319.414213562, 62.085786438), (318, 61.5))
            Line((318, 61.5), (292, 61.5))
            ThreePointArc((292, 61.5), (290.585786438, 62.085786438), (290, 63.5))
            Line((290, 63.5), (290, 109.5))
            ThreePointArc((290, 109.5), (290.585786438, 110.914213562), (292, 111.5))
        make_face()
        with BuildLine():
            Line((372, 61.5), (398, 61.5))
            ThreePointArc((398, 61.5), (399.414213562, 62.085786438), (400, 63.5))
            Line((400, 63.5), (400, 109.5))
            ThreePointArc((400, 109.5), (399.414213562, 110.914213562), (398, 111.5))
            Line((398, 111.5), (372, 111.5))
            ThreePointArc((372, 111.5), (370.585786438, 110.914213562), (370, 109.5))
            Line((370, 109.5), (370, 63.5))
            ThreePointArc((370, 63.5), (370.585786438, 62.085786438), (372, 61.5))
        make_face()
        with BuildLine():
            Line((292, 51.5), (318, 51.5))
            ThreePointArc((318, 51.5), (319.414213562, 50.914213562), (320, 49.5))
            Line((320, 49.5), (320, 17))
            ThreePointArc((320, 17), (319.414213562, 15.585786438), (318, 15))
            Line((318, 15), (292, 15))
            ThreePointArc((292, 15), (290.585786438, 15.585786438), (290, 17))
            Line((290, 17), (290, 49.5))
            ThreePointArc((290, 49.5), (290.585786438, 50.914213562), (292, 51.5))
        make_face()
        with BuildLine():
            Line((360, 49.5), (360, 17))
            ThreePointArc((360, 17), (359.414213562, 15.585786438), (358, 15))
            Line((358, 15), (332, 15))
            ThreePointArc((332, 15), (330.585786438, 15.585786438), (330, 17))
            Line((330, 17), (330, 49.5))
            ThreePointArc((330, 49.5), (330.585786438, 50.914213562), (332, 51.5))
            Line((332, 51.5), (358, 51.5))
            ThreePointArc((358, 51.5), (359.414213562, 50.914213562), (360, 49.5))
        make_face()
        with BuildLine():
            Line((400, 49.5), (400, 17))
            ThreePointArc((400, 17), (399.414213562, 15.585786438), (398, 15))
            Line((398, 15), (372, 15))
            ThreePointArc((372, 15), (370.585786438, 15.585786438), (370, 17))
            Line((370, 17), (370, 49.5))
            ThreePointArc((370, 49.5), (370.585786438, 50.914213562), (372, 51.5))
            Line((372, 51.5), (398, 51.5))
            ThreePointArc((398, 51.5), (399.414213562, 50.914213562), (400, 49.5))
        make_face()
    extrude(amount=-CUT_EXTRUDE8_DEPTH, mode=Mode.SUBTRACT)


solid = part.part
